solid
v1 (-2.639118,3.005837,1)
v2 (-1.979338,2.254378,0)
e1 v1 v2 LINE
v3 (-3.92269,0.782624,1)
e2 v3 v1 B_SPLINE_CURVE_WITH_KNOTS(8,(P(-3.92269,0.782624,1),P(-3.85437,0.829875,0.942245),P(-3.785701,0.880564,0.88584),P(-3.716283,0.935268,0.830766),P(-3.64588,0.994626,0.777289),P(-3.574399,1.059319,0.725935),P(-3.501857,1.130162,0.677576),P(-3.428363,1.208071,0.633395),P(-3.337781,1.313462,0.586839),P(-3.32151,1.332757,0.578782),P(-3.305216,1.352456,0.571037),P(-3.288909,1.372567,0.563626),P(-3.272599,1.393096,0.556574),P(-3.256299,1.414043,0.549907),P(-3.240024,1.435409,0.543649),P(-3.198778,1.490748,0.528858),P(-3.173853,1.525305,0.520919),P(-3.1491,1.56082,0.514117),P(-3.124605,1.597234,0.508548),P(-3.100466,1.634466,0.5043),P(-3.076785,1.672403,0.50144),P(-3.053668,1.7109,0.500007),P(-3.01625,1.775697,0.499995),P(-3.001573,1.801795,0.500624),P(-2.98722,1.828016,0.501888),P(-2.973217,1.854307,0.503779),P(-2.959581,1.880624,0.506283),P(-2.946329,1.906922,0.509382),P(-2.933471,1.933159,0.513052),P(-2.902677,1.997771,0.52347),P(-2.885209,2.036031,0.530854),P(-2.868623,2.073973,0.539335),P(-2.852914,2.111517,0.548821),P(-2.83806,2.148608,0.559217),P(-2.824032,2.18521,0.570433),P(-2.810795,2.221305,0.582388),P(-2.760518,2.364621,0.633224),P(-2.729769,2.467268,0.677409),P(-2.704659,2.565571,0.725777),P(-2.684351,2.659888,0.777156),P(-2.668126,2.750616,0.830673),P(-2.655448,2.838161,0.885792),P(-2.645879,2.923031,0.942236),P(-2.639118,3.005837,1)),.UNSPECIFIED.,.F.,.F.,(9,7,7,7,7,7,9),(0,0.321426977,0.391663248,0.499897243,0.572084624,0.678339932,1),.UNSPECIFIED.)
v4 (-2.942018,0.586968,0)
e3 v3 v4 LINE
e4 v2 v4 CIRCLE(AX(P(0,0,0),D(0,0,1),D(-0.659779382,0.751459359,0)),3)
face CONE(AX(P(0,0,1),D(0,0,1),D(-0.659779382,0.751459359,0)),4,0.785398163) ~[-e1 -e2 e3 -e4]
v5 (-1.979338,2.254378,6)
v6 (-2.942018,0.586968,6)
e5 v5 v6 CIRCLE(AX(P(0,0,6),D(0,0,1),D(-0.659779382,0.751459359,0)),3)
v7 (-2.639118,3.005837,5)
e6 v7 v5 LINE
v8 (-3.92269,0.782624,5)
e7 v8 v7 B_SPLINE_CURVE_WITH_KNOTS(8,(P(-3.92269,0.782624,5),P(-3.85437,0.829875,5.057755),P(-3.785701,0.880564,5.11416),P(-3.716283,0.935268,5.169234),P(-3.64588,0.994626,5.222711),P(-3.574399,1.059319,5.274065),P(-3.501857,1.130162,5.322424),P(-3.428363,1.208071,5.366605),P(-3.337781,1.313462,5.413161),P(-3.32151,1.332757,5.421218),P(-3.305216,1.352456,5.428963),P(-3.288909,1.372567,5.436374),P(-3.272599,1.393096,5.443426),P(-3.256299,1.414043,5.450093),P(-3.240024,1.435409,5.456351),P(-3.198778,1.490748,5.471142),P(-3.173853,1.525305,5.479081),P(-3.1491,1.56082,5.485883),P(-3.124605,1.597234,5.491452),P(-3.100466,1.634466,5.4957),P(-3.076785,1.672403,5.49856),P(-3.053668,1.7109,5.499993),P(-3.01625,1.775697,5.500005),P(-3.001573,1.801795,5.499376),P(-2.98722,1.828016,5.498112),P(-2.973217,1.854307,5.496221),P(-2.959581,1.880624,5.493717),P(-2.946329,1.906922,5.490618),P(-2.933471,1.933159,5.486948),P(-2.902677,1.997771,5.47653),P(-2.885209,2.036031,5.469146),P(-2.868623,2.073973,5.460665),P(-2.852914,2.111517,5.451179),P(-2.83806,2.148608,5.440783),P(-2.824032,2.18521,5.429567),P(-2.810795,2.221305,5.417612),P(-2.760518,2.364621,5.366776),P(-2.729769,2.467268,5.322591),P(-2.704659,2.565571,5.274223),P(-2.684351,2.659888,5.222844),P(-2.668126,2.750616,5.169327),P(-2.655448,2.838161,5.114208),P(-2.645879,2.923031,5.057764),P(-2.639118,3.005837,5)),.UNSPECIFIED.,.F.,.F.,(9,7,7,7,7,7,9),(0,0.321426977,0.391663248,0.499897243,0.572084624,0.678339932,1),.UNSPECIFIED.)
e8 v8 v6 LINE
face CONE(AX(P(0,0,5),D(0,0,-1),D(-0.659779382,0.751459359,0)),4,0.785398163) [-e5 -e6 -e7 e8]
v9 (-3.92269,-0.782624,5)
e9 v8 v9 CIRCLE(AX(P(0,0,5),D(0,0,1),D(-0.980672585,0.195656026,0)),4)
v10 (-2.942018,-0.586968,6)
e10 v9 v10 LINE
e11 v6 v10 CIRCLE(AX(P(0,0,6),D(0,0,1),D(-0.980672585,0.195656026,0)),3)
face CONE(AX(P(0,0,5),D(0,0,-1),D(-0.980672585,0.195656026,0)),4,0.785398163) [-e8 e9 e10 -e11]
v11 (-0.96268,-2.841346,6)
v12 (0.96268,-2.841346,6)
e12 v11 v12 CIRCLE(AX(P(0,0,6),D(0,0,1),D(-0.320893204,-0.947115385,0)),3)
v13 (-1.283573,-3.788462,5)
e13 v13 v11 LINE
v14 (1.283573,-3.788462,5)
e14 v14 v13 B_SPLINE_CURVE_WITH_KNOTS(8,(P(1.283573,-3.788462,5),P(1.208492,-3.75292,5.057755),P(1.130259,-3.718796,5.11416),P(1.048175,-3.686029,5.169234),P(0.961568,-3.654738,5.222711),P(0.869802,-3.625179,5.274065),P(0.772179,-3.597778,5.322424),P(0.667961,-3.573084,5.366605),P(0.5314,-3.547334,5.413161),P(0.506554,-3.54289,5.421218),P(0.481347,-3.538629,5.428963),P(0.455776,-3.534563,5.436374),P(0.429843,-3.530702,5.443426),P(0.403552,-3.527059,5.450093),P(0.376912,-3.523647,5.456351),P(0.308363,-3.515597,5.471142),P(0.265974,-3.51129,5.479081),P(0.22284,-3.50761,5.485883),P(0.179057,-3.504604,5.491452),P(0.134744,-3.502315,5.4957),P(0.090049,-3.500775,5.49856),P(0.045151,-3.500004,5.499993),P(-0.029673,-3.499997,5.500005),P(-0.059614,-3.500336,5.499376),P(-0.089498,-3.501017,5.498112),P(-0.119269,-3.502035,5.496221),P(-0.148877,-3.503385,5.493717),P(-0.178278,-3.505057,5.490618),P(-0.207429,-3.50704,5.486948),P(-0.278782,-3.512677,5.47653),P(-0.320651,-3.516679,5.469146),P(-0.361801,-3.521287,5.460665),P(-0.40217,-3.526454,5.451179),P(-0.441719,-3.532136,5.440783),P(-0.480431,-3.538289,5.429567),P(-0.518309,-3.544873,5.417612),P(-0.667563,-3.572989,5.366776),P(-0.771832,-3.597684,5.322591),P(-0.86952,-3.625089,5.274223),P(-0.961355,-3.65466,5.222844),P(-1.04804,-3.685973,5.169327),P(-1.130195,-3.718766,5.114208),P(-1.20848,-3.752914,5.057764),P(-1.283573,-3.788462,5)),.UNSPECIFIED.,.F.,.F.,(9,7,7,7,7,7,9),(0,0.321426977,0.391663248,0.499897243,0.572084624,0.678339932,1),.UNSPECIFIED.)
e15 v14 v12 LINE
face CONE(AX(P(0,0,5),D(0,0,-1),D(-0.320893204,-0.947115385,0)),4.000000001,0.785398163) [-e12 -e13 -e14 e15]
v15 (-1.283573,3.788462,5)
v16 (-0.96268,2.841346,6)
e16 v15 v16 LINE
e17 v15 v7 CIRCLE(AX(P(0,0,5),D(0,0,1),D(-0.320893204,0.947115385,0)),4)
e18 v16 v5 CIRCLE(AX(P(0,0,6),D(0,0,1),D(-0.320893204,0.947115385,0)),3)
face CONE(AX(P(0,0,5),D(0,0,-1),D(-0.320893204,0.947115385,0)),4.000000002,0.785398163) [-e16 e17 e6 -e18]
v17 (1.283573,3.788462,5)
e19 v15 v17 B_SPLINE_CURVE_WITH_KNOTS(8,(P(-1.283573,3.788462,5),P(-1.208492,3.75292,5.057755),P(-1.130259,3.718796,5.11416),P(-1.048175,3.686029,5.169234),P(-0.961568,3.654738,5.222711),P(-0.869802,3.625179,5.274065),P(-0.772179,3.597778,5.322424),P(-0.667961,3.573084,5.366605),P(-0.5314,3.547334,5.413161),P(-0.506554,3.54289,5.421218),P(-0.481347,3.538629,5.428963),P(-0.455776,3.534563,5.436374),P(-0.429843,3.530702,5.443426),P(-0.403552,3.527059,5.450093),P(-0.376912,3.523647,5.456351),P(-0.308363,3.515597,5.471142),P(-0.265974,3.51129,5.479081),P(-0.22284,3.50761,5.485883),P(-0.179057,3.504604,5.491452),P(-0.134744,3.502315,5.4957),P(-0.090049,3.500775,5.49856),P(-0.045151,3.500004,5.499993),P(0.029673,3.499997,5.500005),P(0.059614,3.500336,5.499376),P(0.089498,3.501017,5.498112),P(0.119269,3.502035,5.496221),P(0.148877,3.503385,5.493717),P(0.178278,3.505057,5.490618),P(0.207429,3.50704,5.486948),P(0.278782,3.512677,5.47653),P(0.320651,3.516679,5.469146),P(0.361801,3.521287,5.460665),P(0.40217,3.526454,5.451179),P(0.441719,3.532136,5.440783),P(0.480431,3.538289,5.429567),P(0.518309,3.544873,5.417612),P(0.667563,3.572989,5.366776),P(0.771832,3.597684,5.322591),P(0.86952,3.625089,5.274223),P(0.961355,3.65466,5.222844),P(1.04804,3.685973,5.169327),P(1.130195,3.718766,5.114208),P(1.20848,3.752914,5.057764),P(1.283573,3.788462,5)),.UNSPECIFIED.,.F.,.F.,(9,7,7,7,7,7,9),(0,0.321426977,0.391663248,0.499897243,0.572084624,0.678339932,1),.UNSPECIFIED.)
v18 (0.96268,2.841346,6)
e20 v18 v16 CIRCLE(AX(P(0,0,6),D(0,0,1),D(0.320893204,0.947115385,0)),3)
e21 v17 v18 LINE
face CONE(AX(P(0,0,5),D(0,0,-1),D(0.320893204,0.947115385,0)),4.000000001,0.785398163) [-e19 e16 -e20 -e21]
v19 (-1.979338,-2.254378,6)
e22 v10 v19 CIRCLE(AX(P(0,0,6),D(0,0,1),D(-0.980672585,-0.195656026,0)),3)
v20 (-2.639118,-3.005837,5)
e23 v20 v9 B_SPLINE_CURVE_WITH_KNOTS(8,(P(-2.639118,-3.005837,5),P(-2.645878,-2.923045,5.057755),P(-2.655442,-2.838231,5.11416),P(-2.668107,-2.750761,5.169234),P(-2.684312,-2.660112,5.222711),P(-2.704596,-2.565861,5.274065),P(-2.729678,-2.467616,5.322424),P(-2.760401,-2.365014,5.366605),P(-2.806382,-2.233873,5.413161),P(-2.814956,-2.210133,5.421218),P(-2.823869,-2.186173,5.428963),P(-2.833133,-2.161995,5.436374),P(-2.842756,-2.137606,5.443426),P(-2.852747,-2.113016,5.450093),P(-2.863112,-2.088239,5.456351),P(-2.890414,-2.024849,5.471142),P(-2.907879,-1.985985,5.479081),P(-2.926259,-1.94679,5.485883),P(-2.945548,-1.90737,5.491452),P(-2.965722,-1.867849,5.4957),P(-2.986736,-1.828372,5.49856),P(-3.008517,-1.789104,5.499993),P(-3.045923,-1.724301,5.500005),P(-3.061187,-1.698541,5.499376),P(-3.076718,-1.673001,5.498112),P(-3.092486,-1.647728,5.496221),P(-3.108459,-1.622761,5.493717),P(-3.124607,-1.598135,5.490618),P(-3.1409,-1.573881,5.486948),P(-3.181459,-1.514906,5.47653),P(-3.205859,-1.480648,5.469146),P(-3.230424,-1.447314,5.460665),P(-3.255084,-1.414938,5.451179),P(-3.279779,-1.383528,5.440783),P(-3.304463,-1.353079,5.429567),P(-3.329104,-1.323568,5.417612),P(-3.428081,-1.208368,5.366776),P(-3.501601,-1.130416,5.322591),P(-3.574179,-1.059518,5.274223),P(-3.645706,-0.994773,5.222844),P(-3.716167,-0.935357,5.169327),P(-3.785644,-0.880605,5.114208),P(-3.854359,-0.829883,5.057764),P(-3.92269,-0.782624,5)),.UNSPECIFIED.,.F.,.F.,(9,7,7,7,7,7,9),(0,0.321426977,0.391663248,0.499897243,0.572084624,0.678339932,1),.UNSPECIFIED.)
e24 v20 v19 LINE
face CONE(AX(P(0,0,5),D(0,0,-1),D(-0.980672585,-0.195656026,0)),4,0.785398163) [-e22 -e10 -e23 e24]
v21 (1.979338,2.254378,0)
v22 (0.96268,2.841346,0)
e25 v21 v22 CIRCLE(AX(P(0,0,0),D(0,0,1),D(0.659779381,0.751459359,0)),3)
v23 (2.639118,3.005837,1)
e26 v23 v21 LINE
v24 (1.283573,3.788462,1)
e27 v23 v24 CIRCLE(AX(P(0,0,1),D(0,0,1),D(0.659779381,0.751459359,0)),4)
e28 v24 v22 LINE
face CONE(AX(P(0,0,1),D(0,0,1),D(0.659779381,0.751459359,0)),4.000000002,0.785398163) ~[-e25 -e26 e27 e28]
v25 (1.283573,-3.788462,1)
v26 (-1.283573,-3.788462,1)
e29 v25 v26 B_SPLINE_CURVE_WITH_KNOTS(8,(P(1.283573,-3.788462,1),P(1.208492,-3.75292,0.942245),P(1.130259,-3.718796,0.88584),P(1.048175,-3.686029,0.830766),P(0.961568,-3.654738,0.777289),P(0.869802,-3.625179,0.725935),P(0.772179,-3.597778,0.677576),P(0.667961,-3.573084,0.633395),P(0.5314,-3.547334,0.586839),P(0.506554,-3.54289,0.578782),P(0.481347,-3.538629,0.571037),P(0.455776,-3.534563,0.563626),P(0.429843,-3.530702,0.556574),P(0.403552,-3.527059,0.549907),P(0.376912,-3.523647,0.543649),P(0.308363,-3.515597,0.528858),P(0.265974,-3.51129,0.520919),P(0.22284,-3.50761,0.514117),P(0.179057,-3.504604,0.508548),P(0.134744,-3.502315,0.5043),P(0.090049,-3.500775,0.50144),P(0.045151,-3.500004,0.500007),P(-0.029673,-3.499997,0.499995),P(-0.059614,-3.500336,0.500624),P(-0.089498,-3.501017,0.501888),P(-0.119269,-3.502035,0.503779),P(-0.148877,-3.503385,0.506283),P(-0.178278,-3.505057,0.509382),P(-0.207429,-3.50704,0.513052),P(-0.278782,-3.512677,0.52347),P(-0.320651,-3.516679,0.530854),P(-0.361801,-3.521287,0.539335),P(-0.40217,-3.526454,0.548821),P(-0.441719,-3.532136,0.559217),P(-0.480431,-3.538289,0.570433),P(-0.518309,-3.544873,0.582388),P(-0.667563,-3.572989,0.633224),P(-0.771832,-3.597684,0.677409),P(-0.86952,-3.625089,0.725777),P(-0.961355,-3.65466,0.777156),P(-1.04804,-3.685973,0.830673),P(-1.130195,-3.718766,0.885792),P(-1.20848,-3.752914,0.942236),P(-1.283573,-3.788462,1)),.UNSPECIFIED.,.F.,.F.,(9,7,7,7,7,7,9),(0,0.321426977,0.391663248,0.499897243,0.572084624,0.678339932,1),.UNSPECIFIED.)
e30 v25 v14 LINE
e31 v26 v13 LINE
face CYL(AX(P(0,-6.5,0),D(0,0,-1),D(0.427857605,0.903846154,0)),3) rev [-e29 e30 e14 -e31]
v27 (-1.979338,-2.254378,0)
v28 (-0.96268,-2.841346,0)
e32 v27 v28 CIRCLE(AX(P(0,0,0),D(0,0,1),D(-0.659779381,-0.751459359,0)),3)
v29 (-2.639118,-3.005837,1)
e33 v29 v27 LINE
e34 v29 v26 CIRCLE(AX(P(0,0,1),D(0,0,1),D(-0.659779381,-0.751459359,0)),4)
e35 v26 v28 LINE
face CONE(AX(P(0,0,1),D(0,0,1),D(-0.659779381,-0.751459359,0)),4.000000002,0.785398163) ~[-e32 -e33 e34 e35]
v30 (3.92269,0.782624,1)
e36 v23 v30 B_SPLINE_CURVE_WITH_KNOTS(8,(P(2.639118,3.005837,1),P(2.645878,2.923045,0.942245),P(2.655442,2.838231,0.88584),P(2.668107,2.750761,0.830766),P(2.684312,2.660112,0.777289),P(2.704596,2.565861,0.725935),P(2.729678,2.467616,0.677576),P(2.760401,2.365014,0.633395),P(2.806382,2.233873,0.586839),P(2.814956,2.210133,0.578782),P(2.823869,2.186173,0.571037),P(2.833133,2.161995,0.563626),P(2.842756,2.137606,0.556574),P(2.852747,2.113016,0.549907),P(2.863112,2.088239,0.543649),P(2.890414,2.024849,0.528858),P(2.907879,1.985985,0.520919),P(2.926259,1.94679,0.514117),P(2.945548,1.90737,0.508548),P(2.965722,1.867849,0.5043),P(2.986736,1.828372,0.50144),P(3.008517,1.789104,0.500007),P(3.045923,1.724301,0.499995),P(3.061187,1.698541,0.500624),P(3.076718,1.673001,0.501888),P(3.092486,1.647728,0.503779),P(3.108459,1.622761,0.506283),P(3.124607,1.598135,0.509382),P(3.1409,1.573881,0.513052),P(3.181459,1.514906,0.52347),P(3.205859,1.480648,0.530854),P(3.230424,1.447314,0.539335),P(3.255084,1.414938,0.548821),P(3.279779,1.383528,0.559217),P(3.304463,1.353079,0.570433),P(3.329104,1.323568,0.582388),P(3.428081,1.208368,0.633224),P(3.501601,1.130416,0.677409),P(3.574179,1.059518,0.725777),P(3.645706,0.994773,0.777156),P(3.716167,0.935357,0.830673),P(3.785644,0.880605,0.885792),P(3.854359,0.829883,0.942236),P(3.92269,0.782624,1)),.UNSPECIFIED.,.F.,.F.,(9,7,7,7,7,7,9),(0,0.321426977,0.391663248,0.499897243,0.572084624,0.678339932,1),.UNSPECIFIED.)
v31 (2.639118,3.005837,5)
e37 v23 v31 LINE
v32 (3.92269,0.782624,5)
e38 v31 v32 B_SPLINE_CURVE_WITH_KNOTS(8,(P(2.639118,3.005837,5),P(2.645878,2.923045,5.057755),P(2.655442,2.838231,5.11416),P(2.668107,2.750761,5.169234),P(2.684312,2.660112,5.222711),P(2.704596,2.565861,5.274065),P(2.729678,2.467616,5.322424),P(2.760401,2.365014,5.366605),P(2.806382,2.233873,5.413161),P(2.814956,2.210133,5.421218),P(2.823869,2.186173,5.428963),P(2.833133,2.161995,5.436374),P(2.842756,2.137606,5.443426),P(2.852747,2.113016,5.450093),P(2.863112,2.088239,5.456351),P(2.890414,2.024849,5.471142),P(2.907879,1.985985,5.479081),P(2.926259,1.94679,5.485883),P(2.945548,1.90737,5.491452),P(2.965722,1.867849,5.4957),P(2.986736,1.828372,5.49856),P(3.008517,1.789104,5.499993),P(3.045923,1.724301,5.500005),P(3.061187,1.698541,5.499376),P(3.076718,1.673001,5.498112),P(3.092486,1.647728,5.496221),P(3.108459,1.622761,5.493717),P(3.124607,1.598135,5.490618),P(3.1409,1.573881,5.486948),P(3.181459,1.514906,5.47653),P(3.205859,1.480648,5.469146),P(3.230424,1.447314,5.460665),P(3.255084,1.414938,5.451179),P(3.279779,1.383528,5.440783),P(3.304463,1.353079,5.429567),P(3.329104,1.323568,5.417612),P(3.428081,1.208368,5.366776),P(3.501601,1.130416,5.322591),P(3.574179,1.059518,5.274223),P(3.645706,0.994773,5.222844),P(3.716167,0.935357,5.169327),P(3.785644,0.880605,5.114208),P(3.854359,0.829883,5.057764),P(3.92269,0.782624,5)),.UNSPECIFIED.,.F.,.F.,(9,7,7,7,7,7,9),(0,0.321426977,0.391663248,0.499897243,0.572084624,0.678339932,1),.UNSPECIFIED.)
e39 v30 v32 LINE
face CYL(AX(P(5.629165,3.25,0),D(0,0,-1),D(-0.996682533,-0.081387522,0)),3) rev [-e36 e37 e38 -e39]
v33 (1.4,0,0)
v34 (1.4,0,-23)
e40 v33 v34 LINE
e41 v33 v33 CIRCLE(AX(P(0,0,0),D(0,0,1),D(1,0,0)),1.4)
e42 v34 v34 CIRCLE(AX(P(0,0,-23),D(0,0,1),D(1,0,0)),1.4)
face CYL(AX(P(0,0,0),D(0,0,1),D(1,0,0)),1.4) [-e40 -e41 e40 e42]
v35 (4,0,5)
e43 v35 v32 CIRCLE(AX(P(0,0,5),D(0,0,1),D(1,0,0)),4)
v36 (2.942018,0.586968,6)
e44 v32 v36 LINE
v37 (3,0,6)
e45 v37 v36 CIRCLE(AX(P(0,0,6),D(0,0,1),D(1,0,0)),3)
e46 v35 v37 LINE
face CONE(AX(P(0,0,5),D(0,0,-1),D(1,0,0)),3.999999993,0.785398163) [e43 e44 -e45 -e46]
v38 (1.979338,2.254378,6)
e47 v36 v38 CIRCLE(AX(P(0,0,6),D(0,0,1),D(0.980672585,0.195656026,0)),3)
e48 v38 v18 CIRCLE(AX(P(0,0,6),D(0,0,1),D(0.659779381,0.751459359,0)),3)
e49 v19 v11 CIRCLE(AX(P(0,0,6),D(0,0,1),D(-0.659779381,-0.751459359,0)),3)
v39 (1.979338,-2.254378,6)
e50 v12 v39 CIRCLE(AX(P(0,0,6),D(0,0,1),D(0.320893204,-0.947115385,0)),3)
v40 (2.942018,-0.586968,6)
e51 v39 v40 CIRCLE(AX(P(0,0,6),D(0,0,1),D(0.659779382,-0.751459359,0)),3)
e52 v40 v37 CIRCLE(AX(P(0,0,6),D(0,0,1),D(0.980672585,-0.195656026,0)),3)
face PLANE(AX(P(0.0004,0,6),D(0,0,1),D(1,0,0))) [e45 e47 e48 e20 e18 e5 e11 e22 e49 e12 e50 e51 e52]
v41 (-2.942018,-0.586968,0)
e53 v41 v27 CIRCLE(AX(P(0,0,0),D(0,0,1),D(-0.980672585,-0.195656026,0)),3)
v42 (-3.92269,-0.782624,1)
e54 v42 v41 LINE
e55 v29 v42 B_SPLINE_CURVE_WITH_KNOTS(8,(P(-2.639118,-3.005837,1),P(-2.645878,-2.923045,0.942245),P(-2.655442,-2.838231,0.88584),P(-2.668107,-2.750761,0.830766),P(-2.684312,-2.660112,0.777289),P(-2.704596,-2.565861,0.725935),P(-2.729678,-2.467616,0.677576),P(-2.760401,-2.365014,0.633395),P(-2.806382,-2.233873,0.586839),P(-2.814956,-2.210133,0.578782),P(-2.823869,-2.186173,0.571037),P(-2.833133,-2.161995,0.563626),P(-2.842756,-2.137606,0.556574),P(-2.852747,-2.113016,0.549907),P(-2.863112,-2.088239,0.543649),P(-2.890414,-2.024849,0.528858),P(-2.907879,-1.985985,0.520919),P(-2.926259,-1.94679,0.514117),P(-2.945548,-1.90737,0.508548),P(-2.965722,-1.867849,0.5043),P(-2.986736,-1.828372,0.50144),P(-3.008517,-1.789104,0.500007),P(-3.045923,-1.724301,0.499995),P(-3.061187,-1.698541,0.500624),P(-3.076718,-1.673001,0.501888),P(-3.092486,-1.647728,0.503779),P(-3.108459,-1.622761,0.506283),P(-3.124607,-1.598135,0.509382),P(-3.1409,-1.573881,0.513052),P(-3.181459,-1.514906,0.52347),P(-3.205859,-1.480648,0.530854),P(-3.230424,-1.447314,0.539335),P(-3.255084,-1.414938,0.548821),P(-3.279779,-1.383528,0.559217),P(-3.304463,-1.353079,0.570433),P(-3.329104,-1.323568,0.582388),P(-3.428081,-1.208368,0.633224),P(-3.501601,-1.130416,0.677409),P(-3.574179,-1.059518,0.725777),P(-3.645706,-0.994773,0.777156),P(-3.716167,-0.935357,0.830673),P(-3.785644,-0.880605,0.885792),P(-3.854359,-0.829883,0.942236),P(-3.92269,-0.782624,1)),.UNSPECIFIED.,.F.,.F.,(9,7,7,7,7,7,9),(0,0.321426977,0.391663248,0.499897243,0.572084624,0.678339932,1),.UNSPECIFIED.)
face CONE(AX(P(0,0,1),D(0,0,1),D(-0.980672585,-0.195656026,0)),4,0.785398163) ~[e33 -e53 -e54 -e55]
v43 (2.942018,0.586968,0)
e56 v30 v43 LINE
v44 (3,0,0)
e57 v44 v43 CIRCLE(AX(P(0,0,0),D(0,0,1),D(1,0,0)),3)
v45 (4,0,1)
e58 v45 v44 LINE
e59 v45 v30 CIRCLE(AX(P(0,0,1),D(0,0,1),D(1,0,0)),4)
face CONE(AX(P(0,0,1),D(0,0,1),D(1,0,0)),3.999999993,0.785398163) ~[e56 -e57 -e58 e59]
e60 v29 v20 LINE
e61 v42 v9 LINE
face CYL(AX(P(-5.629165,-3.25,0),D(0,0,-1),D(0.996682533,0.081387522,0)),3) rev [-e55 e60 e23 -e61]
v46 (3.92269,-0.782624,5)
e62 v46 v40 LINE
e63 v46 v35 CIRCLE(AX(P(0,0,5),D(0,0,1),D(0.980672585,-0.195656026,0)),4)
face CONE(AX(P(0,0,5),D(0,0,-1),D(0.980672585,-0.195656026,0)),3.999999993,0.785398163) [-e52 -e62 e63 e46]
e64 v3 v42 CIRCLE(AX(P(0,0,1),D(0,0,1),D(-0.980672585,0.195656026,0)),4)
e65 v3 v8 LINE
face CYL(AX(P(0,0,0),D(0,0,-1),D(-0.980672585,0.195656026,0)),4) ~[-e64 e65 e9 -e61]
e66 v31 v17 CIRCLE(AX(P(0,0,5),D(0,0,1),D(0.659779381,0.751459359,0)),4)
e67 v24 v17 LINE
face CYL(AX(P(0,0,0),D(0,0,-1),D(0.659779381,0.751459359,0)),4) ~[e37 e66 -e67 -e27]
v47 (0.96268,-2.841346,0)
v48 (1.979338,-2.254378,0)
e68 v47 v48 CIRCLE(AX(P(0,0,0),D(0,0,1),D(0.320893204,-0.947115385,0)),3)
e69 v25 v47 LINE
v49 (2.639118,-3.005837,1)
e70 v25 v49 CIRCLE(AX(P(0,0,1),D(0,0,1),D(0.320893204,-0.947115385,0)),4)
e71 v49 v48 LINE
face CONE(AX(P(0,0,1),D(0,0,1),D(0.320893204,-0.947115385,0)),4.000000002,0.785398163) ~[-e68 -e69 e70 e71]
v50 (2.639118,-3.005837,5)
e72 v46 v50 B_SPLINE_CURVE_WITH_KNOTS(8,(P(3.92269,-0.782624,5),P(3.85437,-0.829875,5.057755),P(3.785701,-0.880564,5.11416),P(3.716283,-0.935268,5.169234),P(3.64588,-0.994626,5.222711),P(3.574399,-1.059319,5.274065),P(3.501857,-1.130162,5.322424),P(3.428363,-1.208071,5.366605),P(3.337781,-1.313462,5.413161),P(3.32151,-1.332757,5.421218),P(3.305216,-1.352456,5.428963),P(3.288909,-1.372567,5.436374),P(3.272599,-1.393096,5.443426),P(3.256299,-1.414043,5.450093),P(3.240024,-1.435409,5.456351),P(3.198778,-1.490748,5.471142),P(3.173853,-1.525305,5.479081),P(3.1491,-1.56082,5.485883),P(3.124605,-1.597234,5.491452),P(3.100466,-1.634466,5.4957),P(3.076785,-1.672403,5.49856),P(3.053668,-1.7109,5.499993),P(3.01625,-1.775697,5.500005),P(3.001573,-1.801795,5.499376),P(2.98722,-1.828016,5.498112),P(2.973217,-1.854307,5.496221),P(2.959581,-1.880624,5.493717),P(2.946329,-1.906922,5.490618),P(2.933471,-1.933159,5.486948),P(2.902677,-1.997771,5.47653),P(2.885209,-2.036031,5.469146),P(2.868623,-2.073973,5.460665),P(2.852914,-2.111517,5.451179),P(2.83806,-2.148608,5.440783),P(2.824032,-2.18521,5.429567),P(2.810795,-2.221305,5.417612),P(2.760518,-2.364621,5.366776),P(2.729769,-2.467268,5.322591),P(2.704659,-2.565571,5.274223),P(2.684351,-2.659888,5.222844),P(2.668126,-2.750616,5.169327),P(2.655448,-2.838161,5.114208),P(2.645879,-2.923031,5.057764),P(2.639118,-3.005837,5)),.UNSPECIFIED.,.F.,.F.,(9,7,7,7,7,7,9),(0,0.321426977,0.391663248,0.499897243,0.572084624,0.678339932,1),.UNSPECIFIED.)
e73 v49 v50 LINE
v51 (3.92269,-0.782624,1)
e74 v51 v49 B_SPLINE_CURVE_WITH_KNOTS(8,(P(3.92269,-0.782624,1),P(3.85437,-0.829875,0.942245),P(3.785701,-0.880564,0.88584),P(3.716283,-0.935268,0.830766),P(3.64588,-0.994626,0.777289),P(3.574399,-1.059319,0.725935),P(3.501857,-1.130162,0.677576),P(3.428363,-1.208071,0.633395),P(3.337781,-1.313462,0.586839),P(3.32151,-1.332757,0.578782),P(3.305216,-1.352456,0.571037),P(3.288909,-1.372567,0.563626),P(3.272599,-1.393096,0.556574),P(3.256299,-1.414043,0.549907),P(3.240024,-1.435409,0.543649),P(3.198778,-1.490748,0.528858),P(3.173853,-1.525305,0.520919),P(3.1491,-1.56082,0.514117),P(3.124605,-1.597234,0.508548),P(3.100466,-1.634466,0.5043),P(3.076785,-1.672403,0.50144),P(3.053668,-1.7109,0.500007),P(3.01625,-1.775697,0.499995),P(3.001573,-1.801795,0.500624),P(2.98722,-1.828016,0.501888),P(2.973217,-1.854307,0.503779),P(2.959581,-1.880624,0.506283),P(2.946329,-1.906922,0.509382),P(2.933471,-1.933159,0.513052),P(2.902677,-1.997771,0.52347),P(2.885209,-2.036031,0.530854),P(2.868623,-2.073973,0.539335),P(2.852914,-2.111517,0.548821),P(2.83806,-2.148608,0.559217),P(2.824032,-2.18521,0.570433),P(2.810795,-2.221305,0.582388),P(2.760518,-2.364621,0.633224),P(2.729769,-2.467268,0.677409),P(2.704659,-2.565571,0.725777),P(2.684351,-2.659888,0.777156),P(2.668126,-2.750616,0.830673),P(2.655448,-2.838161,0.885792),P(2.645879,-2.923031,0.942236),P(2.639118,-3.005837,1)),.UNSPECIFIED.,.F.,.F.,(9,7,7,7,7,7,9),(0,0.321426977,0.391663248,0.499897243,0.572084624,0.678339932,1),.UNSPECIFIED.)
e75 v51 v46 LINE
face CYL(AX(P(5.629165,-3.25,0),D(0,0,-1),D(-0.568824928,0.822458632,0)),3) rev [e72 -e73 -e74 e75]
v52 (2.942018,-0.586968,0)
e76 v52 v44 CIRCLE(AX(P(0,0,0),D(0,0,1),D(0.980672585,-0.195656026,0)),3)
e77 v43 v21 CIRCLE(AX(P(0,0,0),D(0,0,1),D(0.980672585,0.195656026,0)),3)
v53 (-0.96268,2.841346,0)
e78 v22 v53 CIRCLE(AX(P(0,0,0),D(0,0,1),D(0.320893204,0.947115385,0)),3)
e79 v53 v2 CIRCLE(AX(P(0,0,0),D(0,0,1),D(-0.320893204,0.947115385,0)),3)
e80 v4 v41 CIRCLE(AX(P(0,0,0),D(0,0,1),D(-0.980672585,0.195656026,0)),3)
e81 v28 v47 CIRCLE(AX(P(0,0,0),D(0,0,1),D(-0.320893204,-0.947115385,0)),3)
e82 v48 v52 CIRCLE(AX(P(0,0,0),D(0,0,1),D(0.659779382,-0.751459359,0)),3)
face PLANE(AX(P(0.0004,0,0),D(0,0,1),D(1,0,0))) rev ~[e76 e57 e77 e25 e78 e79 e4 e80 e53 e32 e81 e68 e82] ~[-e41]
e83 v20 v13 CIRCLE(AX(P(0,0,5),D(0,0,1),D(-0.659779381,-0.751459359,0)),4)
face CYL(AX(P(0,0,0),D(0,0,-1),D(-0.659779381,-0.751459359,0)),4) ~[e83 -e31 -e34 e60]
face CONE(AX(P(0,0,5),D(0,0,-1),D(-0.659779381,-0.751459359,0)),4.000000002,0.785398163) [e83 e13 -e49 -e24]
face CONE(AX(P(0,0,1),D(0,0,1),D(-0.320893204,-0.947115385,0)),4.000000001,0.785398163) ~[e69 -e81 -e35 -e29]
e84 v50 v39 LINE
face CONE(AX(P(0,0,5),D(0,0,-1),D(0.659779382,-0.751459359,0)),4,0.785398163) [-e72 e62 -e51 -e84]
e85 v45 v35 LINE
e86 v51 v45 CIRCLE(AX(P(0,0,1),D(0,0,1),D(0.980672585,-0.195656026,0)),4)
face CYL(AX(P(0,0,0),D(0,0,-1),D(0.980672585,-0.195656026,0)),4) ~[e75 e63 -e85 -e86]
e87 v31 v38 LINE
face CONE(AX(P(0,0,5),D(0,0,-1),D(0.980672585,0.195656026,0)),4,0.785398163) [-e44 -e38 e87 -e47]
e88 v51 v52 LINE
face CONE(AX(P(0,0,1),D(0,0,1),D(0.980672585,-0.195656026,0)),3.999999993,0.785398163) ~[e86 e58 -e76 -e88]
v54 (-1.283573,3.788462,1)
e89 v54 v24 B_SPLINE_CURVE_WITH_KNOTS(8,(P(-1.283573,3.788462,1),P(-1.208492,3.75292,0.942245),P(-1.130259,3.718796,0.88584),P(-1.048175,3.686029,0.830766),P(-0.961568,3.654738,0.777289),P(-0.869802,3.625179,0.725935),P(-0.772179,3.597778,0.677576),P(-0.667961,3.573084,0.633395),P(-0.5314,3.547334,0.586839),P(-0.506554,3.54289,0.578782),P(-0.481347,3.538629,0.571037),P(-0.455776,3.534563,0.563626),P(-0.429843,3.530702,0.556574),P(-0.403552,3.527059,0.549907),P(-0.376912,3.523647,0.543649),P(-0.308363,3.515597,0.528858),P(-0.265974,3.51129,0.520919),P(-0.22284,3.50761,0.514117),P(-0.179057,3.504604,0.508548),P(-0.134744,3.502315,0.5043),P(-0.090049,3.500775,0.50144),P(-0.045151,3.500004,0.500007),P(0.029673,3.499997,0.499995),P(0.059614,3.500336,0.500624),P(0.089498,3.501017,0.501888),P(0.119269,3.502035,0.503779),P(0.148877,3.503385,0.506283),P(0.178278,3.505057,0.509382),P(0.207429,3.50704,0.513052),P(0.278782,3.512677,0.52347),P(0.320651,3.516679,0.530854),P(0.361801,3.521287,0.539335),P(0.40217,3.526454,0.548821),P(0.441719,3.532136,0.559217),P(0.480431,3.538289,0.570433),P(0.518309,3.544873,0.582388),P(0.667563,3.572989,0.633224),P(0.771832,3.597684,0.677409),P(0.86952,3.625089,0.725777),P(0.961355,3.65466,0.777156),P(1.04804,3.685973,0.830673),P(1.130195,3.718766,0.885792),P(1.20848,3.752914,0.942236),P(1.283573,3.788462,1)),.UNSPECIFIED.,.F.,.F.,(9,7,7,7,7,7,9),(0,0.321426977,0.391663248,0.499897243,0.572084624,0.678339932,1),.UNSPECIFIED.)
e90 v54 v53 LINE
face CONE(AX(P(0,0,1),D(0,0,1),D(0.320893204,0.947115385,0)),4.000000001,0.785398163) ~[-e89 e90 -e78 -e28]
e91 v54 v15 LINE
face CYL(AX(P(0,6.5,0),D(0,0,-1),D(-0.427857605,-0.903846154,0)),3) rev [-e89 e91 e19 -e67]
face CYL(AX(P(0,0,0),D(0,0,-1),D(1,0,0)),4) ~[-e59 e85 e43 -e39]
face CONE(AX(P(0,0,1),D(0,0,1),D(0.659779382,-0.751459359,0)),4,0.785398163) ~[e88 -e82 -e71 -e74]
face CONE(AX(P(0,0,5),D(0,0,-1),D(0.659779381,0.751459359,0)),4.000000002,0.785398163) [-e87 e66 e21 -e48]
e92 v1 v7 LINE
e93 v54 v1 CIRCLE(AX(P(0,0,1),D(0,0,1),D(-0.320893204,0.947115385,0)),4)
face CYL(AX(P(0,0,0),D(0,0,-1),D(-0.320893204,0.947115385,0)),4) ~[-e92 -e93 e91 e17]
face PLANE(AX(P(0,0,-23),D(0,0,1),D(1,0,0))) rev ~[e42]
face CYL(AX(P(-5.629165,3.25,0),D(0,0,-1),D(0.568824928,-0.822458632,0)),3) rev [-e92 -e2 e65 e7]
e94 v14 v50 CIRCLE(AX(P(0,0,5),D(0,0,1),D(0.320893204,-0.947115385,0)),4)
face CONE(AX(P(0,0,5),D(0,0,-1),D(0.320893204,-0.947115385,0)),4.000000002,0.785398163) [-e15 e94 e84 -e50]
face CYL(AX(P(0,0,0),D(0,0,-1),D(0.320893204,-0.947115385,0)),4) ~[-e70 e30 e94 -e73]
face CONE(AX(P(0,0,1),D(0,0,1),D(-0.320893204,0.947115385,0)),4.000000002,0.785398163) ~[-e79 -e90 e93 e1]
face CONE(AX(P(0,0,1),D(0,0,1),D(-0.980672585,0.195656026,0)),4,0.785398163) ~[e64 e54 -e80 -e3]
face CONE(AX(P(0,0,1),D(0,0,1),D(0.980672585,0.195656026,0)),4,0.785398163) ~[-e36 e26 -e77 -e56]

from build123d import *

# Parameters (mm, degrees)
F0_R     = 1.4
F1_DEPTH = 6
F2_SIZE  = 1
F3_DEPTH = 6.001
F4_DEPTH = 23


with BuildPart() as f1:
    # F0 (on Top) → F1 (new body)
    with BuildSketch(Plane.XY):
        with BuildLine():
            ThreePointArc((3.9226903411, -0.7826241038), (3.9806256647, -0.3932166296), (4, 0))
            ThreePointArc((4, 0), (3.9806256647, 0.3932166296), (3.9226903411, 0.7826241038))
            ThreePointArc((3.9226903411, 0.7826241038), (3.0310889132, 1.75), (2.639117526, 3.0058374347))
            ThreePointArc((2.639117526, 3.0058374347), (2, 3.4641016151), (1.2835728151, 3.7884615385))
            ThreePointArc((1.2835728151, 3.7884615385), (0, 3.5), (-1.2835728151, 3.7884615385))
            ThreePointArc((-1.2835728151, 3.7884615385), (-2, 3.4641016151), (-2.639117526, 3.0058374347))
            ThreePointArc((-2.639117526, 3.0058374347), (-3.0310889132, 1.75), (-3.9226903411, 0.7826241038))
            ThreePointArc((-3.9226903411, 0.7826241038), (-4, 0), (-3.9226903411, -0.7826241038))
            ThreePointArc((-3.9226903411, -0.7826241038), (-3.0310889132, -1.75), (-2.639117526, -3.0058374347))
            ThreePointArc((-2.639117526, -3.0058374347), (-2, -3.4641016151), (-1.2835728151, -3.7884615385))
            ThreePointArc((-1.2835728151, -3.7884615385), (0, -3.5), (1.2835728151, -3.7884615385))
            ThreePointArc((1.2835728151, -3.7884615385), (2, -3.4641016151), (2.639117526, -3.0058374347))
            ThreePointArc((2.639117526, -3.0058374347), (3.0310889132, -1.75), (3.9226903411, -0.7826241038))
        make_face()
        Circle(F0_R, mode=Mode.SUBTRACT)
        Circle(F0_R)
        with BuildLine():
            ThreePointArc((-1.2835728151, 3.7884615385), (0, 3.5), (1.2835728151, 3.7884615385))
            ThreePointArc((1.2835728151, 3.7884615385), (0, 4), (-1.2835728151, 3.7884615385))
        make_face()
        with BuildLine():
            ThreePointArc((2.639117526, 3.0058374347), (3.0310889132, 1.75), (3.9226903411, 0.7826241038))
            ThreePointArc((3.9226903411, 0.7826241038), (3.4641016151, 2), (2.639117526, 3.0058374347))
        make_face()
        with BuildLine():
            ThreePointArc((2.639117526, -3.0058374347), (3.4641016151, -2), (3.9226903411, -0.7826241038))
            ThreePointArc((3.9226903411, -0.7826241038), (3.0310889132, -1.75), (2.639117526, -3.0058374347))
        make_face()
        with BuildLine():
            ThreePointArc((-1.2835728151, -3.7884615385), (0, -4), (1.2835728151, -3.7884615385))
            ThreePointArc((1.2835728151, -3.7884615385), (0, -3.5), (-1.2835728151, -3.7884615385))
        make_face()
        with BuildLine():
            ThreePointArc((-3.9226903411, -0.7826241038), (-3.4641016151, -2), (-2.639117526, -3.0058374347))
            ThreePointArc((-2.639117526, -3.0058374347), (-3.0310889132, -1.75), (-3.9226903411, -0.7826241038))
        make_face()
        with BuildLine():
            ThreePointArc((-3.9226903411, 0.7826241038), (-3.0310889132, 1.75), (-2.639117526, 3.0058374347))
            ThreePointArc((-2.639117526, 3.0058374347), (-3.4641016151, 2), (-3.9226903411, 0.7826241038))
        make_face()
    extrude(amount=F1_DEPTH)

    # F2
    f2_edges = [f1.edges().sort_by_distance(p)[0] for p in [
        (2.639118, -3.005837, 6),
        (2.639118, -3.005837, 0),
    ]]
    chamfer(f2_edges, length=F2_SIZE)

    # F0 (on Top) → F3 (cut, through all)
    with BuildSketch(Plane.XY):
        with BuildLine():
            ThreePointArc((-1.2835728151, -3.7884615385), (0, -4), (1.2835728151, -3.7884615385))
            ThreePointArc((1.2835728151, -3.7884615385), (0, -3.5), (-1.2835728151, -3.7884615385))
        make_face()
        with BuildLine():
            ThreePointArc((-3.9226903411, -0.7826241038), (-3.4641016151, -2), (-2.639117526, -3.0058374347))
            ThreePointArc((-2.639117526, -3.0058374347), (-3.0310889132, -1.75), (-3.9226903411, -0.7826241038))
        make_face()
        with BuildLine():
            ThreePointArc((2.639117526, -3.0058374347), (3.4641016151, -2), (3.9226903411, -0.7826241038))
            ThreePointArc((3.9226903411, -0.7826241038), (3.0310889132, -1.75), (2.639117526, -3.0058374347))
        make_face()
        with BuildLine():
            ThreePointArc((2.639117526, 3.0058374347), (3.0310889132, 1.75), (3.9226903411, 0.7826241038))
            ThreePointArc((3.9226903411, 0.7826241038), (3.4641016151, 2), (2.639117526, 3.0058374347))
        make_face()
        with BuildLine():
            ThreePointArc((-1.2835728151, 3.7884615385), (0, 3.5), (1.2835728151, 3.7884615385))
            ThreePointArc((1.2835728151, 3.7884615385), (0, 4), (-1.2835728151, 3.7884615385))
        make_face()
        with BuildLine():
            ThreePointArc((-3.9226903411, 0.7826241038), (-3.0310889132, 1.75), (-2.639117526, 3.0058374347))
            ThreePointArc((-2.639117526, 3.0058374347), (-3.4641016151, 2), (-3.9226903411, 0.7826241038))
        make_face()
    extrude(amount=F3_DEPTH, mode=Mode.SUBTRACT)

    # F0 (on Top) → F4 (join)
    with BuildSketch(Plane.XY):
        Circle(F0_R)
    extrude(amount=-F4_DEPTH)


solid = f1.part
